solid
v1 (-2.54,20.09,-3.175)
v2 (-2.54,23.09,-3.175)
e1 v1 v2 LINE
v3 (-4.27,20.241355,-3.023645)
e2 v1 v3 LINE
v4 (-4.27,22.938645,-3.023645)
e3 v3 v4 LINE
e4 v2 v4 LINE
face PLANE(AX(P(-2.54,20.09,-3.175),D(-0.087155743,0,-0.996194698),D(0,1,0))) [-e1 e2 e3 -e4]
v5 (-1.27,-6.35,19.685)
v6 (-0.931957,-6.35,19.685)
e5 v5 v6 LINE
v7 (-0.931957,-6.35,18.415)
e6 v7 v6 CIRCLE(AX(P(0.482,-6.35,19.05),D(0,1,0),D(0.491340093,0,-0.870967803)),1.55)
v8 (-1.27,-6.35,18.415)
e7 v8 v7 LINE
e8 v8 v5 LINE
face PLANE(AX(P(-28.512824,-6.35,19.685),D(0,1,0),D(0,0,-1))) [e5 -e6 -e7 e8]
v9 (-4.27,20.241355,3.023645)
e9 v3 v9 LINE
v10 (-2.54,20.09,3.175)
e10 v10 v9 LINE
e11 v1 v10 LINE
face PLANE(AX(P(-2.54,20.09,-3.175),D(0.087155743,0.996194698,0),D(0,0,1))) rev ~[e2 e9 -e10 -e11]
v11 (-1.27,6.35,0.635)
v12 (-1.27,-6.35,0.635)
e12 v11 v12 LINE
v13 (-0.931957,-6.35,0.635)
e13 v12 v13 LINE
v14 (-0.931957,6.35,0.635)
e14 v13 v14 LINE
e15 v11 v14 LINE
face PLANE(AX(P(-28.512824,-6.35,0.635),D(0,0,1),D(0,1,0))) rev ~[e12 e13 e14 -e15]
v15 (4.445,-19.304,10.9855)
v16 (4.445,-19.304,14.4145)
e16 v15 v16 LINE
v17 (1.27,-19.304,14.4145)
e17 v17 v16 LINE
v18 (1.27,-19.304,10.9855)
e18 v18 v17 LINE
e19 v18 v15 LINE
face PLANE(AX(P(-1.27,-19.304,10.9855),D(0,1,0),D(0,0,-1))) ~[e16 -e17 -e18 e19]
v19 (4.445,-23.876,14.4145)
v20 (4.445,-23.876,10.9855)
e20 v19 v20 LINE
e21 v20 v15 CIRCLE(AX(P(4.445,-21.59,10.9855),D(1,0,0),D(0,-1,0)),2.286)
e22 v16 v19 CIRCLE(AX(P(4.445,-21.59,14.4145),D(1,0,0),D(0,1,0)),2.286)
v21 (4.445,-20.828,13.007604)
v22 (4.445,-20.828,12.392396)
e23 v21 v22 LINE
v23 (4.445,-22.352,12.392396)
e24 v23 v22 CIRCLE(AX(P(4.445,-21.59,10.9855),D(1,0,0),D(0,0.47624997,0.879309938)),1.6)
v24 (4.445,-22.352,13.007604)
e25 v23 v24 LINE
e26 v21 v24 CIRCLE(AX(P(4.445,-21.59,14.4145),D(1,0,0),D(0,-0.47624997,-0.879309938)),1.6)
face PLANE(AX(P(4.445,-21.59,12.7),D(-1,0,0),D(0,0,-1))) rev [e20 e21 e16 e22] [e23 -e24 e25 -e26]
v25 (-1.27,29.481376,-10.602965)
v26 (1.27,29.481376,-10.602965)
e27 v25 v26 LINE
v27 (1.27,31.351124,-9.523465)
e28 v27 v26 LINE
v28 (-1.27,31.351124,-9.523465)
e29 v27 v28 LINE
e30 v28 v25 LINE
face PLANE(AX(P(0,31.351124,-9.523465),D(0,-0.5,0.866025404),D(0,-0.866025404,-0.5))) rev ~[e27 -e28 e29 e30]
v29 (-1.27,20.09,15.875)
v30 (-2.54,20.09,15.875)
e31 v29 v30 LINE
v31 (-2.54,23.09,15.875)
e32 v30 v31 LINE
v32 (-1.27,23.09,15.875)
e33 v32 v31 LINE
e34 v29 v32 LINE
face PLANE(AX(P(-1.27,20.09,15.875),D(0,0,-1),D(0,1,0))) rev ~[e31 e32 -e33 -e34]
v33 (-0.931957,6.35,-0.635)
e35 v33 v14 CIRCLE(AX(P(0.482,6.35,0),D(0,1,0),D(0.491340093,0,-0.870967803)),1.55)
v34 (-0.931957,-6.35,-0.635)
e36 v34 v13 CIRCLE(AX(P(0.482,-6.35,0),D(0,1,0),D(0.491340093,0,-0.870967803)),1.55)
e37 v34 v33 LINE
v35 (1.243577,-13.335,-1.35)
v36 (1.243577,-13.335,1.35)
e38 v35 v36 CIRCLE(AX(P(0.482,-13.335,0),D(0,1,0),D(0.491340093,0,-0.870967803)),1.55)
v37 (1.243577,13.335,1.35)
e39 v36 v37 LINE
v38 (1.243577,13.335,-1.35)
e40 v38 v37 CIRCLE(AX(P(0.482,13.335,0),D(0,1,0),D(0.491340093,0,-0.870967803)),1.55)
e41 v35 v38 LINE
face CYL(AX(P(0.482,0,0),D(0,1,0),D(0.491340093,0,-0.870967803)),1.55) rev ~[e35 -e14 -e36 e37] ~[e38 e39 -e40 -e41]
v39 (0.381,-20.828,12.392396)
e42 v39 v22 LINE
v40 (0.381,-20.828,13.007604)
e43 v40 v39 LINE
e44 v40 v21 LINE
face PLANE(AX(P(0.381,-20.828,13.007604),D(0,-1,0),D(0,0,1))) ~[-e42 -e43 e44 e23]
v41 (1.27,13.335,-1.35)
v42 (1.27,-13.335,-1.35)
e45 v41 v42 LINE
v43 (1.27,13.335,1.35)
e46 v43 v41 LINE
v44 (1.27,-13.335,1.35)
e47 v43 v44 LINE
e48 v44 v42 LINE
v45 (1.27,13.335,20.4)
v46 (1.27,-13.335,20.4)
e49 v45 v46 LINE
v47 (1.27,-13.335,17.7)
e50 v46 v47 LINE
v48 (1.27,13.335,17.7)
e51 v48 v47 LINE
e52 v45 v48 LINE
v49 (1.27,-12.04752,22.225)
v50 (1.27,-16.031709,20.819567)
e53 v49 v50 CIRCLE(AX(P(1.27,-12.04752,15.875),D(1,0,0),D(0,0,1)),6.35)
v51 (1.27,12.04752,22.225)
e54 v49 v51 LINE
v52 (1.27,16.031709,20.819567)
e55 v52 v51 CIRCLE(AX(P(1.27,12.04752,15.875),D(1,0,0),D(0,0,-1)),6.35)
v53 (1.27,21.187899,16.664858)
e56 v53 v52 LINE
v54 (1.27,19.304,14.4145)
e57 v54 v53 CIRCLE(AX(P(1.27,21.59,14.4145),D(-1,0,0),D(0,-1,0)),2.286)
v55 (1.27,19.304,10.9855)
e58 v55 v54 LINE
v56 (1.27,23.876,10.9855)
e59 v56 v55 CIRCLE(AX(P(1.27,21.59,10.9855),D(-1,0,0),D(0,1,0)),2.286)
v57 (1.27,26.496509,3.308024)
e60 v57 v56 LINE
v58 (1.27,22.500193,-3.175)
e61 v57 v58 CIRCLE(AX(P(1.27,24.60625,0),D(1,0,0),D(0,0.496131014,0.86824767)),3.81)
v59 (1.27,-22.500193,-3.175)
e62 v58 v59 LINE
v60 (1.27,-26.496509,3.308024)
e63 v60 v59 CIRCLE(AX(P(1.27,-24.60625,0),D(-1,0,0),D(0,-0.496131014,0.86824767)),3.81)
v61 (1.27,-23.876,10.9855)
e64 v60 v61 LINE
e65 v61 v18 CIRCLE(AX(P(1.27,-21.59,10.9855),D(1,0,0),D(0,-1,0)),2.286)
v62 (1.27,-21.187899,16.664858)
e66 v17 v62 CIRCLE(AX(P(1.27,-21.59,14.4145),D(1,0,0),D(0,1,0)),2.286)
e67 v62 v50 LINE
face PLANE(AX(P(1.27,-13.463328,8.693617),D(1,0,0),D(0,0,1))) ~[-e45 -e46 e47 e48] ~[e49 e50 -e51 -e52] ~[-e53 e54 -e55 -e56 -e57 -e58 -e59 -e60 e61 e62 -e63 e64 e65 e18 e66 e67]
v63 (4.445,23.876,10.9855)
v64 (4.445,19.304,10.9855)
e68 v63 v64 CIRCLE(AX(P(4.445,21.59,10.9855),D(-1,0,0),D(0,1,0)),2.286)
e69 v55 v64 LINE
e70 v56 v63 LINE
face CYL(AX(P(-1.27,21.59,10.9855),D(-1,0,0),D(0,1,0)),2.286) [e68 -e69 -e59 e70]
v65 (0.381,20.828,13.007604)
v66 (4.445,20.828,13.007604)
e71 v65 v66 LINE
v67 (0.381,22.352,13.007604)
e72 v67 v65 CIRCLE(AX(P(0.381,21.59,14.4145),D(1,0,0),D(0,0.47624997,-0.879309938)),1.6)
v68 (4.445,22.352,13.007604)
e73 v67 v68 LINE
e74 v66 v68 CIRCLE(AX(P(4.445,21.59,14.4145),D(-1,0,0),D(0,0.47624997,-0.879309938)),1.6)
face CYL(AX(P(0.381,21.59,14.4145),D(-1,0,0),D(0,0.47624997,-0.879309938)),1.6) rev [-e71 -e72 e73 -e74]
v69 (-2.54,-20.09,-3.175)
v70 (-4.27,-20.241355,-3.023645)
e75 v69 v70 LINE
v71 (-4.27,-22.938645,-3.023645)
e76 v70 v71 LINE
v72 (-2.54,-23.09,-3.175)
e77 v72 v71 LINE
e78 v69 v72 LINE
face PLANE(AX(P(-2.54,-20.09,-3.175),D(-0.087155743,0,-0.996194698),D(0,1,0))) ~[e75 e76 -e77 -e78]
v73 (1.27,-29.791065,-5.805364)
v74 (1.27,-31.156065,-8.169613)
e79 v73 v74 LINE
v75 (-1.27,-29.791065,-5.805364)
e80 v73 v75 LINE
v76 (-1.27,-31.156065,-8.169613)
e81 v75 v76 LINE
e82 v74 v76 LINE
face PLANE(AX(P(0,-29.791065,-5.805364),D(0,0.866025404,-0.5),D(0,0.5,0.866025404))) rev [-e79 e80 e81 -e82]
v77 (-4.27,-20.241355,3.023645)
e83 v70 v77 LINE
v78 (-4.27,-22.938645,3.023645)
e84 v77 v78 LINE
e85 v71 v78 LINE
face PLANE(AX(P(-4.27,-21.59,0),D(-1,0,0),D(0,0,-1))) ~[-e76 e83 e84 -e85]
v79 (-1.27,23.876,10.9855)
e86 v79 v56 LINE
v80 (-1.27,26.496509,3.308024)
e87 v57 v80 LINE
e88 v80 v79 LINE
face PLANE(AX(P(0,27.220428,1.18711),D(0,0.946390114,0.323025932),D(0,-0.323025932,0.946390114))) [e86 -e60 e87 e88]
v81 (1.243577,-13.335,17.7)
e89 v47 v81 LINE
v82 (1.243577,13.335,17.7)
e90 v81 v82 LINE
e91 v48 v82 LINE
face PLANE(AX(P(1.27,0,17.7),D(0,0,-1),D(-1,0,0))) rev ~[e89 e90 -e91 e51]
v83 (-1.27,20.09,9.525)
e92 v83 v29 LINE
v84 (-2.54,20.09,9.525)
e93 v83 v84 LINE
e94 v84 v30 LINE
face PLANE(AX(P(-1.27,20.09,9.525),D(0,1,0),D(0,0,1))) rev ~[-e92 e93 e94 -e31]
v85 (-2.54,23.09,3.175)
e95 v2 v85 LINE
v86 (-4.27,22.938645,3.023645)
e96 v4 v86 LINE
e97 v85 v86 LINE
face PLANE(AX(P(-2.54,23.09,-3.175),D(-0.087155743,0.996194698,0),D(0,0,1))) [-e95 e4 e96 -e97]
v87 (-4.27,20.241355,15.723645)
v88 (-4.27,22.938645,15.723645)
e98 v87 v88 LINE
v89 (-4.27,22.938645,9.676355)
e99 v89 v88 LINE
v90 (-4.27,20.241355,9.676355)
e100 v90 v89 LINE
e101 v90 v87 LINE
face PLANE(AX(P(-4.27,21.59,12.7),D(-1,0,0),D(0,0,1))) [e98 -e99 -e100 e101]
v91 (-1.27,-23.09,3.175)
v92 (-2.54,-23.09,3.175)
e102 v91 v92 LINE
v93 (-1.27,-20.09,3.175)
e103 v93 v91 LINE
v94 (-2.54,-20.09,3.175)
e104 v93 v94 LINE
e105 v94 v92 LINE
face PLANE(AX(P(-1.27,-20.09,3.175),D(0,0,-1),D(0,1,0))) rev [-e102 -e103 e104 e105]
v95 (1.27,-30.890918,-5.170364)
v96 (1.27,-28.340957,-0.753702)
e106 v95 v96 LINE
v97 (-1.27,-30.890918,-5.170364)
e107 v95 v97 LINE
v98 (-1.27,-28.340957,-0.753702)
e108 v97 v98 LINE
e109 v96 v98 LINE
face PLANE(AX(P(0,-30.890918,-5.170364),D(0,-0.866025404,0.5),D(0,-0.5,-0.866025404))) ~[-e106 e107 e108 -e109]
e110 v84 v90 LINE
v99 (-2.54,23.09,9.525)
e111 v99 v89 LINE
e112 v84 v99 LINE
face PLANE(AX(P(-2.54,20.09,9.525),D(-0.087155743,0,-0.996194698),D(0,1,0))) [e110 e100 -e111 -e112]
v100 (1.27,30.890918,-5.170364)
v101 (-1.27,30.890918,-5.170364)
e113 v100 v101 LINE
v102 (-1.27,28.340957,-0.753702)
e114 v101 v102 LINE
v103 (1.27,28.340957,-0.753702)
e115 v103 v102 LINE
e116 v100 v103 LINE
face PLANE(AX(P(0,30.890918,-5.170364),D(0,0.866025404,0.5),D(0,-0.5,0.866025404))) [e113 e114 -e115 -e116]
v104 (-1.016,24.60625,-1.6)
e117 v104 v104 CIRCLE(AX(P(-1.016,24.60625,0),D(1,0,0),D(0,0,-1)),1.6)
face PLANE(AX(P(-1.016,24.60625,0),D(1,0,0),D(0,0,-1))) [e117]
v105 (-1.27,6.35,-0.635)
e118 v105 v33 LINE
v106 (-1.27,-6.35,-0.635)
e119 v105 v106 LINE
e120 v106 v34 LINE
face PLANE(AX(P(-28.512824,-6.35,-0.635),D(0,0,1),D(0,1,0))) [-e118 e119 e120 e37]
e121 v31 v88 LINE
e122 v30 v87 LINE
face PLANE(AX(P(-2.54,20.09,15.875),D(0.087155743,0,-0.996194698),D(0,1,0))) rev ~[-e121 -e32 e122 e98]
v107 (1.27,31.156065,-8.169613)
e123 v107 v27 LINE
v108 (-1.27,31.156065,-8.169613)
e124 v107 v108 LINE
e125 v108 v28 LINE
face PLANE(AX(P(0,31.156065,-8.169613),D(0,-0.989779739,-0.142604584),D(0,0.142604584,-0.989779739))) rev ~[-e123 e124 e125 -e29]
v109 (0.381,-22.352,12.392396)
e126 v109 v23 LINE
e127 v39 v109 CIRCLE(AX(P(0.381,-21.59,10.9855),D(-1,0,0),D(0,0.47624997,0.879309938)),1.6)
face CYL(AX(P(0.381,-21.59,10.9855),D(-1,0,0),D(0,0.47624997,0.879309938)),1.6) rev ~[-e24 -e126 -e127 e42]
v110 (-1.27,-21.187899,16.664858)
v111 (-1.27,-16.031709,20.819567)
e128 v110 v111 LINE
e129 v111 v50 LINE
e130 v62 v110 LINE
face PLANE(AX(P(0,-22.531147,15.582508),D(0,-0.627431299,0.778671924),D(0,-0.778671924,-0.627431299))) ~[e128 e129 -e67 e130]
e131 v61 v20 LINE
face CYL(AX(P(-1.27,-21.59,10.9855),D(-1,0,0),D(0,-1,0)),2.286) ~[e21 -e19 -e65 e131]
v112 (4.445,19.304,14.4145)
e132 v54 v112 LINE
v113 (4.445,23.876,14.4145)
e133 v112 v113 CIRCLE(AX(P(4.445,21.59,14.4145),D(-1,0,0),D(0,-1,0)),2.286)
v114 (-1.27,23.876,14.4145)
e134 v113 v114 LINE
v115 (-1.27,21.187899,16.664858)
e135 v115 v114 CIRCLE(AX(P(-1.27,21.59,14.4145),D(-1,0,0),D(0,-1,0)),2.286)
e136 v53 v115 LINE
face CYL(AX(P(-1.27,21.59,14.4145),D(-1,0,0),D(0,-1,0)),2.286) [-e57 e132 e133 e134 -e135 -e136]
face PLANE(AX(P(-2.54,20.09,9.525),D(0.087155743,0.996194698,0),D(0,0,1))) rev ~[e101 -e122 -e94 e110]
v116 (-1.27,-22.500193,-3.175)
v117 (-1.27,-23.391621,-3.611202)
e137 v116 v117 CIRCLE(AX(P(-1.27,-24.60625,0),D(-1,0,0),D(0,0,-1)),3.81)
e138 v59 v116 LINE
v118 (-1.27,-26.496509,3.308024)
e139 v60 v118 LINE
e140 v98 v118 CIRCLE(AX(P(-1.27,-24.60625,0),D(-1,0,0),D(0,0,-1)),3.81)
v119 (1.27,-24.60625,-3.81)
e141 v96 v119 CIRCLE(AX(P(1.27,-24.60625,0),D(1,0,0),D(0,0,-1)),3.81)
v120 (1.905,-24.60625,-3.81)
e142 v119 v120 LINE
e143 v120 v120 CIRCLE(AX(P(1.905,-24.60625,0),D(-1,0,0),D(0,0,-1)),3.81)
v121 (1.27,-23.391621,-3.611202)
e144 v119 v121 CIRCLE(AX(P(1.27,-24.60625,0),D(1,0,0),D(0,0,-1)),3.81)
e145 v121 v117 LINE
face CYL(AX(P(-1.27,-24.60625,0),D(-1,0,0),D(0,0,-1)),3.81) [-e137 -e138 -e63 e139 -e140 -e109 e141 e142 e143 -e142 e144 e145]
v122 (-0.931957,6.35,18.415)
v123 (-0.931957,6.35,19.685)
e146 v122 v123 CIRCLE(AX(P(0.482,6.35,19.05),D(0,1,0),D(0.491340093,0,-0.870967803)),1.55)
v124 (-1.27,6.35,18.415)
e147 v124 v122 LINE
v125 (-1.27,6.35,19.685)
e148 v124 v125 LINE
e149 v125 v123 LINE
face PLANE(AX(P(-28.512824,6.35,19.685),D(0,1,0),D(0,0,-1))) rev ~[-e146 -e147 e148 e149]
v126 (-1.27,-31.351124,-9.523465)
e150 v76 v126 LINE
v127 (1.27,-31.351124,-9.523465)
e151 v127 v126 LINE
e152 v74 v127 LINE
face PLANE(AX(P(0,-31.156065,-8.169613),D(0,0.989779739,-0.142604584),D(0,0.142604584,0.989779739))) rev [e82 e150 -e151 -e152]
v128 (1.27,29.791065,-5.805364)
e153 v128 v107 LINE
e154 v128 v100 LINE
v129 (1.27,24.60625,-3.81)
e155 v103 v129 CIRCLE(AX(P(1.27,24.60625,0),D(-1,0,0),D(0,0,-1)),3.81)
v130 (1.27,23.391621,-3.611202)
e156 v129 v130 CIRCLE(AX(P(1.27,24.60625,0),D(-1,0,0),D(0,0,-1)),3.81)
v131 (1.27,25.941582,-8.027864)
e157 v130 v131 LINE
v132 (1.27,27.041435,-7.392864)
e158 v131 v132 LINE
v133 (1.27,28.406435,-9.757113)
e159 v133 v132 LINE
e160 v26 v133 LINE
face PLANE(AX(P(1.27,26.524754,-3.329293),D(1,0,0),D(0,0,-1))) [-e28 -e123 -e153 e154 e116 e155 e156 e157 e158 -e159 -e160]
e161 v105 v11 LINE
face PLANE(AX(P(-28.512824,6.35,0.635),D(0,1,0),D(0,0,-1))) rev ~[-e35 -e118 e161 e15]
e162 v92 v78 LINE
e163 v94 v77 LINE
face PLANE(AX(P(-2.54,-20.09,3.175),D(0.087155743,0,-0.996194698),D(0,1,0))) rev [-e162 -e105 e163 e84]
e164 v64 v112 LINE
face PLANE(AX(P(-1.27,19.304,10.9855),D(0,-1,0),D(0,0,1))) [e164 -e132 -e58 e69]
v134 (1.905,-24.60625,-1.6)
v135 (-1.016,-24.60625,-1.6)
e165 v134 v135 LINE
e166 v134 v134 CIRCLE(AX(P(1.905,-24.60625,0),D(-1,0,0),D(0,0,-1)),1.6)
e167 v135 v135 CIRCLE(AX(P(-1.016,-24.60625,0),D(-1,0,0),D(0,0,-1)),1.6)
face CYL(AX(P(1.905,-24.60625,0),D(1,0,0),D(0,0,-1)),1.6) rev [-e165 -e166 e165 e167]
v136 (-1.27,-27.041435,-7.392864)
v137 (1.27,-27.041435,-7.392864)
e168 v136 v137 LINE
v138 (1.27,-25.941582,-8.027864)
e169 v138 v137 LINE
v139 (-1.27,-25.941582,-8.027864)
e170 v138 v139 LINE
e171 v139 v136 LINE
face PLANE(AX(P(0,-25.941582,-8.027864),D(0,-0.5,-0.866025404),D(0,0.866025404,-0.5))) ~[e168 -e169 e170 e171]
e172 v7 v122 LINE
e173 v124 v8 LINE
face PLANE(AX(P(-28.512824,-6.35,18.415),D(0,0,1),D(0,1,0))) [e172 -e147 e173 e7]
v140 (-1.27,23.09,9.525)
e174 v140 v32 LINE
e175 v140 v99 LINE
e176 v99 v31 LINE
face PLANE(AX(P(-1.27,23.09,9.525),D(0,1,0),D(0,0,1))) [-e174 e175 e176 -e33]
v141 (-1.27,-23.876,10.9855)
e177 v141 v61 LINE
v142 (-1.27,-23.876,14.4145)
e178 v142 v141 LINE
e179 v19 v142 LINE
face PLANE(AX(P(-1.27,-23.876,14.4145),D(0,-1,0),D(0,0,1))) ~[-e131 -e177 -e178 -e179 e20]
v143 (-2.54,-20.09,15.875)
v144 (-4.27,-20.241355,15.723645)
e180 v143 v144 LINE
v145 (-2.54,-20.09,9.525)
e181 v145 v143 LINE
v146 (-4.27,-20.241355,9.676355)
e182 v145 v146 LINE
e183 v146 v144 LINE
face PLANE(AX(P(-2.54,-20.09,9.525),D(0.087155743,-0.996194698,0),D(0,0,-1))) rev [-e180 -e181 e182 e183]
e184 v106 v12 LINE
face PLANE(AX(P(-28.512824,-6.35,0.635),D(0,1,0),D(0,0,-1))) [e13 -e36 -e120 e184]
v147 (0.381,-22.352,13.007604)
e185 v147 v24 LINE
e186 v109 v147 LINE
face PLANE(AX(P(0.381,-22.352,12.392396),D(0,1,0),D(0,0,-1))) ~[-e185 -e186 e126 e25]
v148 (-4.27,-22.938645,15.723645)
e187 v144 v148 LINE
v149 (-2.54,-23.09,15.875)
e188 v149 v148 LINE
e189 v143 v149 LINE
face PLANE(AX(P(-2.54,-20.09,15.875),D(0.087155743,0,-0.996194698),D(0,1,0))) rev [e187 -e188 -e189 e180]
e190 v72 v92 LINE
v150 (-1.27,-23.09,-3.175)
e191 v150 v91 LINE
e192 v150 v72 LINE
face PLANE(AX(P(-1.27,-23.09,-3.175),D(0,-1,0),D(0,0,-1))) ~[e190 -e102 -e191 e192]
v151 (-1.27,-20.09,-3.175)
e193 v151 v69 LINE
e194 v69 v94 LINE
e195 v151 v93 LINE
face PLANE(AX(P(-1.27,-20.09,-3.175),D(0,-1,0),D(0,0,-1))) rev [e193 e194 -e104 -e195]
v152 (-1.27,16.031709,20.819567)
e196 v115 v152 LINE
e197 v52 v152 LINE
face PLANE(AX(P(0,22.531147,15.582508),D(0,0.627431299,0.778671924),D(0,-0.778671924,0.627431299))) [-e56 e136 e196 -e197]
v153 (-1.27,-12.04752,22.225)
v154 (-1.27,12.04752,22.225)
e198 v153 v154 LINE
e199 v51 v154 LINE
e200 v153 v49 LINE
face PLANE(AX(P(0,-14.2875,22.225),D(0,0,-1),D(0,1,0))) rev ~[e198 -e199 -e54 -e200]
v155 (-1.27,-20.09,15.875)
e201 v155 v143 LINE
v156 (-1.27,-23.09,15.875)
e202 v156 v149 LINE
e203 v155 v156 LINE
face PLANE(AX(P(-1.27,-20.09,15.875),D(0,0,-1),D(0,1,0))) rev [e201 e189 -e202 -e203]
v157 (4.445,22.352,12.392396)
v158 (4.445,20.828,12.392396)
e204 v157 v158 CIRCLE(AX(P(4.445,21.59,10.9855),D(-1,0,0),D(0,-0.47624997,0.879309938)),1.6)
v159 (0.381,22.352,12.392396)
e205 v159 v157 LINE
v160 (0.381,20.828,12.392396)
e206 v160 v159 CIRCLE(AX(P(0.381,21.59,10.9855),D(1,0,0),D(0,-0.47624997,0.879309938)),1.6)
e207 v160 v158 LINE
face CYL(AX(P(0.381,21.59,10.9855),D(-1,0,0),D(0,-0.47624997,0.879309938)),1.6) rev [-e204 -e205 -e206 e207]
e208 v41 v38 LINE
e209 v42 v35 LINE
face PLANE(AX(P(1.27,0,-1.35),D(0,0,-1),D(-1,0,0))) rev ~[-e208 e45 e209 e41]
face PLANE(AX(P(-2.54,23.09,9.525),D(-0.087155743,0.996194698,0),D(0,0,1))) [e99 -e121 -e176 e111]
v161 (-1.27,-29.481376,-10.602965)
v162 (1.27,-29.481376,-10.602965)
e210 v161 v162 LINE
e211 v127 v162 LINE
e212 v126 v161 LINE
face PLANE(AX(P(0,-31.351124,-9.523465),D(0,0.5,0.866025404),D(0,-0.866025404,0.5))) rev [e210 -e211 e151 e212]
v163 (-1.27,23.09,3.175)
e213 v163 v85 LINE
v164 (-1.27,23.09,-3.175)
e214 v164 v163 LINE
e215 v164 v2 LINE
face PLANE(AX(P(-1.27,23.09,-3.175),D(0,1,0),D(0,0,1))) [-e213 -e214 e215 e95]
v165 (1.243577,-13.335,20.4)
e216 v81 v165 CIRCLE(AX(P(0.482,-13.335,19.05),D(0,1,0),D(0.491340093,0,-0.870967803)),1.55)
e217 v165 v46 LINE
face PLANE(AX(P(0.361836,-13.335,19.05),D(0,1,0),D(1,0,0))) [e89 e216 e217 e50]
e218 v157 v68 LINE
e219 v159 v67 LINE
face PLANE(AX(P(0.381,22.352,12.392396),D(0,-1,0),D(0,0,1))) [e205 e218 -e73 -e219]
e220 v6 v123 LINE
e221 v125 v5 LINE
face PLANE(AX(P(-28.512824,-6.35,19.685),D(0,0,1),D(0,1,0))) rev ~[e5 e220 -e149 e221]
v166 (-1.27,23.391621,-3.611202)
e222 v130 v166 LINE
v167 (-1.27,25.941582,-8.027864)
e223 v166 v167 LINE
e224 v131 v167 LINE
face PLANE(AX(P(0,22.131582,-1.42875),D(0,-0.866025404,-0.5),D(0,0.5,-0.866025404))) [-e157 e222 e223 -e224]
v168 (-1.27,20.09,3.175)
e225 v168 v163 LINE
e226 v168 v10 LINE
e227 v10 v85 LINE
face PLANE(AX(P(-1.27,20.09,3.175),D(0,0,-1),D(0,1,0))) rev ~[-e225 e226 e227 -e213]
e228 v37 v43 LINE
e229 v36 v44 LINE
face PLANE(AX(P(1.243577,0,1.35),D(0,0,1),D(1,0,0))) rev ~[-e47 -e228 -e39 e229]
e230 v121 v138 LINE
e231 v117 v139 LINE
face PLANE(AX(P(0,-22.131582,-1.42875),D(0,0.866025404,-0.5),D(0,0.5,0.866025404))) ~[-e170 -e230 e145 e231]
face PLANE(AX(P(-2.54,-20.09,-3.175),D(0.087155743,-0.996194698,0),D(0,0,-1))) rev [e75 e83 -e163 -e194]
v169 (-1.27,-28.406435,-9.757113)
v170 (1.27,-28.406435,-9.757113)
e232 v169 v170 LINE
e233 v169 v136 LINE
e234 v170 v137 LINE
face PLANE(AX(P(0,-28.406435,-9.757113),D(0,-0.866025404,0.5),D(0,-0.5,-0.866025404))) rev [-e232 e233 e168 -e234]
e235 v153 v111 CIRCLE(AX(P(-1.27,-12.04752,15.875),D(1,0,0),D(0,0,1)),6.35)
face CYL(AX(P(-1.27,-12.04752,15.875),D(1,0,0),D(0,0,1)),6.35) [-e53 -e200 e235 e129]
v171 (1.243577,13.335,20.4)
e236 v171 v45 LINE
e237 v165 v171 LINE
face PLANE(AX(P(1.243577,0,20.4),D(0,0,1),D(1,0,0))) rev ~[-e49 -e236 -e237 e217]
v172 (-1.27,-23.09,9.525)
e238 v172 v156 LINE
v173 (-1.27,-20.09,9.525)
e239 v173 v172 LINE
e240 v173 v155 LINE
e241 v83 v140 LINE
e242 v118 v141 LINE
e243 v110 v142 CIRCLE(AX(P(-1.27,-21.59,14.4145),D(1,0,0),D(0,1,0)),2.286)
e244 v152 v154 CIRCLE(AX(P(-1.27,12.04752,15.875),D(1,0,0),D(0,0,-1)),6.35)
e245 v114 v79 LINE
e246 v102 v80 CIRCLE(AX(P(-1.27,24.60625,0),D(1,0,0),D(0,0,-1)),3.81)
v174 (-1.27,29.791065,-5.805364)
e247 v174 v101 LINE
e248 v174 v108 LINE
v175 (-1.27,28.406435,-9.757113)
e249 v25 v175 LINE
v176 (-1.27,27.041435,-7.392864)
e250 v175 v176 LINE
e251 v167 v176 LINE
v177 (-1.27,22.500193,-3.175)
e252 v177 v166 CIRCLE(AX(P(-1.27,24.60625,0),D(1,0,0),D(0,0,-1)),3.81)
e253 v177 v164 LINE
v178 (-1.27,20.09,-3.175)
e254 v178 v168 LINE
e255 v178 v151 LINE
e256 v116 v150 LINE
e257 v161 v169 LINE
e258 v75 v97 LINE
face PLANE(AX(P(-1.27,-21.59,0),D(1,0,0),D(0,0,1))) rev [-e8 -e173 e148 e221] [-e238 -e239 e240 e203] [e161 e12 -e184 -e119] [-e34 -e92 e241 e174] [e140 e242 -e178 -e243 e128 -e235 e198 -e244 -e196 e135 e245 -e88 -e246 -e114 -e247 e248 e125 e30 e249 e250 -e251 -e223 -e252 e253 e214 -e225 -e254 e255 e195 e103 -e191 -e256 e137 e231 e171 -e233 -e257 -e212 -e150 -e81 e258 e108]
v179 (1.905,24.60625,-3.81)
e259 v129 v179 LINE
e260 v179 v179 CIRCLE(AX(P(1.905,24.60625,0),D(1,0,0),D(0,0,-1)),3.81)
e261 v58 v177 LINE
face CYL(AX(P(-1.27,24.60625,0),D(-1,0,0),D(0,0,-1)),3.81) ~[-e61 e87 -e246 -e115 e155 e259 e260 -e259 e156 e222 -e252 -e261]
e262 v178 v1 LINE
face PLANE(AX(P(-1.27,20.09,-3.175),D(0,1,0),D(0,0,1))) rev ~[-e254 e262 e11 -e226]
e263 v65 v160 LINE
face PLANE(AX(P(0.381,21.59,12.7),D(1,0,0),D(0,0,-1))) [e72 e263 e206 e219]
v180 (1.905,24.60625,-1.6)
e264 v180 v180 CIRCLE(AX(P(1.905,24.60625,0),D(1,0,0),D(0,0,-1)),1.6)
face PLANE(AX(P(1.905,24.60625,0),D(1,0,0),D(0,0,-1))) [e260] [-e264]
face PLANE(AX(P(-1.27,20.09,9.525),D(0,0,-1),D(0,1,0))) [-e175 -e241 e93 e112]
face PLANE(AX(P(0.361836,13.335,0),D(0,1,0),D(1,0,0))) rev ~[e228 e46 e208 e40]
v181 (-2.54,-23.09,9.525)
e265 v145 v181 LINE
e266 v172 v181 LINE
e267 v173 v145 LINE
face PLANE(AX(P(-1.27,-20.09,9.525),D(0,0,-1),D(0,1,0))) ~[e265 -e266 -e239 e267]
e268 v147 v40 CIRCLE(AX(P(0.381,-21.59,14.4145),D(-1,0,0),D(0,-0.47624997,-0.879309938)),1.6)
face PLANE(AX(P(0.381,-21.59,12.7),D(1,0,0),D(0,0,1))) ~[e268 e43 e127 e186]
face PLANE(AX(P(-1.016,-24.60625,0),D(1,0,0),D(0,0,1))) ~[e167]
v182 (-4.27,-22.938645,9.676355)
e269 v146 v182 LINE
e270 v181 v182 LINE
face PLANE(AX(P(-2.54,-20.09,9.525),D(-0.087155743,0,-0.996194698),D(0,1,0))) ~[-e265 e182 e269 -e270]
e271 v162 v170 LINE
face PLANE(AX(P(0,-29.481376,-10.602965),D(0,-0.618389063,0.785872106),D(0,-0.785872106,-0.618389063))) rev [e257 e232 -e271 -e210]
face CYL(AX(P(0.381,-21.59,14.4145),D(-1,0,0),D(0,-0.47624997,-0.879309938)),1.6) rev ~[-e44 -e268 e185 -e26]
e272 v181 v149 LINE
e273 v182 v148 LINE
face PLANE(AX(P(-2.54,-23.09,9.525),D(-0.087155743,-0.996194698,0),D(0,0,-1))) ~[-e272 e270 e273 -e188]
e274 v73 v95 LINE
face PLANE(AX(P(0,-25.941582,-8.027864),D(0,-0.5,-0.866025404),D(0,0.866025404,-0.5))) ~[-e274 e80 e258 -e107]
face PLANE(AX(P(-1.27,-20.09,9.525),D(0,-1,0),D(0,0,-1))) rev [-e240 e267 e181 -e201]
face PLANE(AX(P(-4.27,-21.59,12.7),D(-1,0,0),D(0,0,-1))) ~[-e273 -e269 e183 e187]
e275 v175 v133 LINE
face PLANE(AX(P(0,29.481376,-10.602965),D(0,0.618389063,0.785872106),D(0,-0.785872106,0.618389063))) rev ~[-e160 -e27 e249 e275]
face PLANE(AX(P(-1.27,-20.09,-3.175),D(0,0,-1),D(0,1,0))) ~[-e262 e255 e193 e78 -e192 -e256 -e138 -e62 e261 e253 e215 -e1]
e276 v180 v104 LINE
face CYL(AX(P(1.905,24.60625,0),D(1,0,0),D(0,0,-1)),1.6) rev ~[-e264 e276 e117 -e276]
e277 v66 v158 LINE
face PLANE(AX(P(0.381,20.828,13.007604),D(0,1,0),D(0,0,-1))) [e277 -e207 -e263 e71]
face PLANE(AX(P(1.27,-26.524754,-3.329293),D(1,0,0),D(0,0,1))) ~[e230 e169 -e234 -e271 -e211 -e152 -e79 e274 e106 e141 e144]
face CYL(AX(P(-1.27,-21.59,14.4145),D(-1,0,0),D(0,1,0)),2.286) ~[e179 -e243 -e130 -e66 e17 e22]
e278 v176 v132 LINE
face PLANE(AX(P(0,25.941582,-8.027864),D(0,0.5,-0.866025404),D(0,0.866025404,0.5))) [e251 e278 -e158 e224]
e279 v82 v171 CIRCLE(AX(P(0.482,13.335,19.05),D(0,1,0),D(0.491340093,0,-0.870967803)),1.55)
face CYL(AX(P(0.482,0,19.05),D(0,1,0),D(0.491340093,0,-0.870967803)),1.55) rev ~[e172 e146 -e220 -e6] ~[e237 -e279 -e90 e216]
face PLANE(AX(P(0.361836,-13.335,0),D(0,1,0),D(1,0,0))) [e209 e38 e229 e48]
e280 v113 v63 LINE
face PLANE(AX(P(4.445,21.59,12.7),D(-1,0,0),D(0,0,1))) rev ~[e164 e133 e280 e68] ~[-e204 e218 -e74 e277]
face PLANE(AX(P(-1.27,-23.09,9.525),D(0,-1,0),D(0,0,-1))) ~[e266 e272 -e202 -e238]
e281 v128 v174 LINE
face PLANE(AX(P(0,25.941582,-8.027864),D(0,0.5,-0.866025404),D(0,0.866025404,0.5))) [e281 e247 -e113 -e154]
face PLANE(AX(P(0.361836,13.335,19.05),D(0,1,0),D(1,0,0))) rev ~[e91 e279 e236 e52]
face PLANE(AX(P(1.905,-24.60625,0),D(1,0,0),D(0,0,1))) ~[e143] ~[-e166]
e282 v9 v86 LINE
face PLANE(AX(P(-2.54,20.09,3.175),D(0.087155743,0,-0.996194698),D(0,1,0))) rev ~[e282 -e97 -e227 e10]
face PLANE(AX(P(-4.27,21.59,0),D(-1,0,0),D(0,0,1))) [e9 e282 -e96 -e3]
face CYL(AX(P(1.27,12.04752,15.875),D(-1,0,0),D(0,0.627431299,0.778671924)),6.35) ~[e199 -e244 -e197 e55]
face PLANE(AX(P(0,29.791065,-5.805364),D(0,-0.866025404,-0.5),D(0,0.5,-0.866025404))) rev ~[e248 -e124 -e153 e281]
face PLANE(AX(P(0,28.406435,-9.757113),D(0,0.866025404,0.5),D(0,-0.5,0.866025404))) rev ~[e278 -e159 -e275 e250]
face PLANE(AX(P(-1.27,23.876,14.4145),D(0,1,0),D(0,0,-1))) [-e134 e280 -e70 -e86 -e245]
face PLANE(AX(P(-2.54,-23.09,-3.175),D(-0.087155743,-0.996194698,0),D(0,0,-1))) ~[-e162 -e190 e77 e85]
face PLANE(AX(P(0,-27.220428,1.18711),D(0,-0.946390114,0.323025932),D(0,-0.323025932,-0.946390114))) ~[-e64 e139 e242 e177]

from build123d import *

# Parameters (mm, degrees)
DOWELSUPPORT_DEPTH          = 1.905
DOWELSUPPORT_DEPTH_BACK     = 1.27
SKETCH3_R                   = 3.81
SKETCH5_W                   = 6.35
SKETCH5_H                   = 28.575
SLIDERDOWELSUPPORT_DEPTH    = 1.27
SLIDERDOWELCUTOUT_DEPTH     = 13.335
CUT_EXTRUDE2_DEPTH          = 29.782824115
CUT_EXTRUDE2_DEPTH_BACK     = 29.782824115
SKETCH20_W                  = 1.27
SKETCH20_H                  = 12.7
LPATTERN1_COUNT             = 2
LPATTERN1_PITCH             = 19.05
LATERALSUPPORT_DEPTH        = 1.27
SKETCH8_W                   = 6.35
SKETCH8_H                   = 3
TABSUPPORT_DEPTH            = 1.27
STRINGDOWELSUPPORT_START    = -1.27
STRINGDOWELSUPPORT_DEPTH    = 5.715
INTERSUPPORT_DEPTH          = 1.27
SKETCH10_W                  = 6.35
SKETCH10_H                  = 3
TABBASE_DEPTH               = 1.27
SKETCH12_W                  = 6.35
SKETCH12_H                  = 3
TABDRAFT_DEPTH              = 1.73
TABDRAFT_DRAFT              = 5
TABDRAFT_PROFILE_2_DEPTH    = 1.73
TABDRAFT_PROFILE_2_DRAFT    = 5
STRINGDOWELHOLES_DEPTH      = 39.922670163
STRINGDOWELHOLES_DEPTH_BACK = 1.524
SKETCH14_R                  = 1.600000102
PULLEYDOWELHOLE_DEPTH       = 2.921
FILLET1_R                   = 6.35


with BuildPart() as part:
    # Sketch3 → DowelSupport (new, two sides: drawn at the far end of the back side and taken through both)
    with BuildSketch(Plane(origin=(0, 0, 0), x_dir=(0, 0, -1), z_dir=(1, 0, 0)).offset(-DOWELSUPPORT_DEPTH_BACK)):
        with Locations((0, 24.60625)):
            Circle(SKETCH3_R)
    extrude(amount=DOWELSUPPORT_DEPTH + DOWELSUPPORT_DEPTH_BACK)

    # Sketch8 → TabSupport (add, symmetric)
    with BuildSketch(Plane(origin=(0, 0, 0), x_dir=(0, 0, -1), z_dir=(1, 0, 0))):
        with Locations((0, 21.59)):
            Rectangle(SKETCH8_W, SKETCH8_H)
        with Locations((-12.7, 21.59)):
            Rectangle(SKETCH8_W, SKETCH8_H)
    extrude(amount=TABSUPPORT_DEPTH, both=True)


with BuildPart() as body_2:
    # Sketch5 → SliderDowelSupport (new, symmetric)
    with BuildSketch(Plane(origin=(0, 0, 0), x_dir=(0, 0, -1), z_dir=(1, 0, 0))):
        Rectangle(SKETCH5_W, SKETCH5_H)
    extrude(amount=SLIDERDOWELSUPPORT_DEPTH, both=True)

    # Sketch19 → SliderDowelCutout (cut, symmetric)
    with BuildSketch(Plane(origin=(0, 0, 0), x_dir=(1, 0, 0), z_dir=(0, 1, 0))):
        with BuildLine():
            Line((1.27, 1.350000094), (1.243577144, 1.350000094))
            ThreePointArc((1.243577144, 1.350000094), (-1.068, 0), (1.243577144, -1.350000094))
            Line((1.243577144, -1.350000094), (1.27, -1.350000094))
            Line((1.27, -1.350000094), (1.27, 1.350000094))
        make_face()
    extrude(amount=SLIDERDOWELCUTOUT_DEPTH, both=True, mode=Mode.SUBTRACT)

    # Sketch20 → Cut-Extrude2 (cut, two sides: drawn at the far end of the back side and taken through both)
    with BuildSketch(Plane(origin=(1.27, 0, 0), x_dir=(0, 0, -1), z_dir=(1, 0, 0)).offset(-CUT_EXTRUDE2_DEPTH_BACK)):
        Rectangle(SKETCH20_W, SKETCH20_H)
    extrude(amount=CUT_EXTRUDE2_DEPTH + CUT_EXTRUDE2_DEPTH_BACK, mode=Mode.SUBTRACT)


with BuildPart() as lpattern1_1:
    # LPattern1: pattern copy
    add(body_2.part.moved(Location(Vector(0, 0, 1) * (1 * LPATTERN1_PITCH))))


with BuildPart() as body_4:
    # Sketch6 → LateralSupport (new, symmetric)
    with BuildSketch(Plane(origin=(0, 0, 0), x_dir=(0, 0, -1), z_dir=(1, 0, 0))):
        Polygon((7.392863577, 27.041434671), (5.805363577, 29.791065329), (8.169612929, 31.156065329), (9.523465192, 31.351124423), (10.602965192, 29.481375577), (9.757112929, 28.406434671), align=None)
    extrude(amount=LATERALSUPPORT_DEPTH, both=True)


with BuildPart() as tabsupport_piece_1:
    # of the separate pieces the step leaves, piece 1, a body of its own (tabsupport_pieces)
    add(part.part.solids().sort_by_distance((0, 24.60625, -3.81))[0])


with BuildPart() as tabsupport_piece_2:
    # of the separate pieces the step leaves, piece 2, a body of its own (tabsupport_pieces)
    add(part.part.solids().sort_by_distance((-1.27, 20.09, 9.525))[0])

    # Sketch15 → StringDowelSupport (add)
    with BuildSketch(Plane(origin=(0, 0, 0), x_dir=(0, 0, -1), z_dir=(1, 0, 0)).offset(STRINGDOWELSUPPORT_START)):
        with BuildLine():
            Line((-14.4145, 23.876), (-10.9855, 23.876))
            ThreePointArc((-10.9855, 23.876), (-8.6995, 21.59), (-10.9855, 19.304))
            Line((-10.9855, 19.304), (-14.4145, 19.304))
            ThreePointArc((-14.4145, 19.304), (-16.7005, 21.59), (-14.4145, 23.876))
        make_face()
    extrude(amount=STRINGDOWELSUPPORT_DEPTH)


with BuildPart() as body_2_1:
    add(body_2.part)

    add(lpattern1_1.part)  # InterSupport merges LPattern1_1

    add(body_4.part)  # InterSupport merges body 4

    add(tabsupport_piece_1.part)  # InterSupport merges TabSupport piece 1

    add(tabsupport_piece_2.part)  # InterSupport merges TabSupport piece 2
    # Sketch7 → InterSupport (add, symmetric)
    with BuildSketch(Plane(origin=(0, 0, 0), x_dir=(0, 0, -1), z_dir=(1, 0, 0))):
        Polygon((8.027863577, 25.941582409), (5.170363577, 30.890917591), (-1.187110053, 27.22042848), (-0.923046602, 27.310559749), (0, 24.60625), (1.42875, 22.131582409), align=None)
        Polygon((-1.42875, 27.080917591), (-1.187110053, 27.22042848), (-10.9855, 23.876), (-14.4145, 23.876), (-15.582507886, 22.531146949), (-22.225, 14.2875), (-15.875, 14.2875), (-15.875, 0), (-3.175, 0), (-3.175, 14.2875), (3.175, 14.2875), (3.175, 20.09), (0.923046602, 21.901940251), (0, 24.60625), align=None)
    extrude(amount=INTERSUPPORT_DEPTH, both=True)

    # Sketch10 → TabBase (add)
    with BuildSketch(Plane.ZY.offset(1.27)):
        with Locations((0, 21.59)):
            Rectangle(SKETCH10_W, SKETCH10_H)
        with Locations((12.7, 21.59)):
            Rectangle(SKETCH10_W, SKETCH10_H)
    extrude(amount=TABBASE_DEPTH)


with BuildPart() as tabdraft_tool:
    # Sketch12 → TabDraft (with draft: the straight prism first)
    with BuildSketch(Plane.ZY.offset(2.54)):
        with Locations((0, 21.59)):
            Rectangle(SKETCH12_W, SKETCH12_H)
    extrude(amount=TABDRAFT_DEPTH)
    # TabDraft: the draft: its side faces are tilted about the plane it starts from
    tabdraft_sides = [tabdraft_tool.faces().sort_by_distance(p)[0] for p in [
        (-3.405, 21.59, 3.175),
        (-3.405, 23.09, 0),
        (-3.405, 21.59, -3.175),
        (-3.405, 20.09, 0),
    ]]
    draft(tabdraft_sides, Plane.ZY.offset(2.54), TABDRAFT_DRAFT)


with BuildPart() as body_2_2:
    add(body_2_1.part)

    # TabDraft: add tabdraft_tool
    add(tabdraft_tool.part)


with BuildPart() as tabdraft_profile_2_tool:
    # Sketch12 → TabDraft profile 2 (with draft: the straight prism first)
    with BuildSketch(Plane.ZY.offset(2.54)):
        with Locations((12.7, 21.59)):
            Rectangle(SKETCH12_W, SKETCH12_H)
    extrude(amount=TABDRAFT_PROFILE_2_DEPTH)
    # TabDraft profile 2: the draft: its side faces are tilted about the plane it starts from
    tabdraft_profile_2_sides = [tabdraft_profile_2_tool.faces().sort_by_distance(p)[0] for p in [
        (-3.405, 21.59, 9.525),
        (-3.405, 20.09, 12.7),
        (-3.405, 21.59, 15.875),
        (-3.405, 23.09, 12.7),
    ]]
    draft(tabdraft_profile_2_sides, Plane.ZY.offset(2.54), TABDRAFT_PROFILE_2_DRAFT)


with BuildPart() as body_2_3:
    add(body_2_2.part)

    # TabDraft profile 2: add tabdraft_profile_2_tool
    add(tabdraft_profile_2_tool.part)

    # Sketch16 → StringDowelHoles (cut, two sides: drawn at the far end of the back side and taken through both)
    with BuildSketch(Plane(origin=(1.905, 0, 0), x_dir=(0, 0, -1), z_dir=(1, 0, 0)).offset(-STRINGDOWELHOLES_DEPTH_BACK)):
        with BuildLine():
            Line((-13.00760401, 20.828), (-12.39239599, 20.828))
            ThreePointArc((-12.39239599, 20.828), (-9.385499898, 21.59), (-12.39239599, 22.352))
            Line((-12.39239599, 22.352), (-13.00760401, 22.352))
            ThreePointArc((-13.00760401, 22.352), (-16.014500102, 21.59), (-13.00760401, 20.828))
        make_face()
    extrude(amount=STRINGDOWELHOLES_DEPTH + STRINGDOWELHOLES_DEPTH_BACK, mode=Mode.SUBTRACT)

    # Sketch14 → PulleyDowelHole (cut)
    with BuildSketch(Plane(origin=(1.905, 0, 0), x_dir=(0, 0, -1), z_dir=(1, 0, 0))):
        with Locations((0, 24.60625)):
            Circle(SKETCH14_R)
    extrude(amount=-PULLEYDOWELHOLE_DEPTH, mode=Mode.SUBTRACT)

    # Mirror1: body 2 across plane


with BuildPart() as body_2_4:
    add(body_2_3.part)
    add(body_2_3.part.mirror(Plane.ZX))

    # Fillet1
    fillet1_edges = [body_2_4.edges().sort_by_distance(p)[0] for p in [
        (0, -14.2875, 22.225),
        (0, 14.2875, 22.225),
    ]]
    fillet(fillet1_edges, radius=FILLET1_R)


solid = body_2_4.part
